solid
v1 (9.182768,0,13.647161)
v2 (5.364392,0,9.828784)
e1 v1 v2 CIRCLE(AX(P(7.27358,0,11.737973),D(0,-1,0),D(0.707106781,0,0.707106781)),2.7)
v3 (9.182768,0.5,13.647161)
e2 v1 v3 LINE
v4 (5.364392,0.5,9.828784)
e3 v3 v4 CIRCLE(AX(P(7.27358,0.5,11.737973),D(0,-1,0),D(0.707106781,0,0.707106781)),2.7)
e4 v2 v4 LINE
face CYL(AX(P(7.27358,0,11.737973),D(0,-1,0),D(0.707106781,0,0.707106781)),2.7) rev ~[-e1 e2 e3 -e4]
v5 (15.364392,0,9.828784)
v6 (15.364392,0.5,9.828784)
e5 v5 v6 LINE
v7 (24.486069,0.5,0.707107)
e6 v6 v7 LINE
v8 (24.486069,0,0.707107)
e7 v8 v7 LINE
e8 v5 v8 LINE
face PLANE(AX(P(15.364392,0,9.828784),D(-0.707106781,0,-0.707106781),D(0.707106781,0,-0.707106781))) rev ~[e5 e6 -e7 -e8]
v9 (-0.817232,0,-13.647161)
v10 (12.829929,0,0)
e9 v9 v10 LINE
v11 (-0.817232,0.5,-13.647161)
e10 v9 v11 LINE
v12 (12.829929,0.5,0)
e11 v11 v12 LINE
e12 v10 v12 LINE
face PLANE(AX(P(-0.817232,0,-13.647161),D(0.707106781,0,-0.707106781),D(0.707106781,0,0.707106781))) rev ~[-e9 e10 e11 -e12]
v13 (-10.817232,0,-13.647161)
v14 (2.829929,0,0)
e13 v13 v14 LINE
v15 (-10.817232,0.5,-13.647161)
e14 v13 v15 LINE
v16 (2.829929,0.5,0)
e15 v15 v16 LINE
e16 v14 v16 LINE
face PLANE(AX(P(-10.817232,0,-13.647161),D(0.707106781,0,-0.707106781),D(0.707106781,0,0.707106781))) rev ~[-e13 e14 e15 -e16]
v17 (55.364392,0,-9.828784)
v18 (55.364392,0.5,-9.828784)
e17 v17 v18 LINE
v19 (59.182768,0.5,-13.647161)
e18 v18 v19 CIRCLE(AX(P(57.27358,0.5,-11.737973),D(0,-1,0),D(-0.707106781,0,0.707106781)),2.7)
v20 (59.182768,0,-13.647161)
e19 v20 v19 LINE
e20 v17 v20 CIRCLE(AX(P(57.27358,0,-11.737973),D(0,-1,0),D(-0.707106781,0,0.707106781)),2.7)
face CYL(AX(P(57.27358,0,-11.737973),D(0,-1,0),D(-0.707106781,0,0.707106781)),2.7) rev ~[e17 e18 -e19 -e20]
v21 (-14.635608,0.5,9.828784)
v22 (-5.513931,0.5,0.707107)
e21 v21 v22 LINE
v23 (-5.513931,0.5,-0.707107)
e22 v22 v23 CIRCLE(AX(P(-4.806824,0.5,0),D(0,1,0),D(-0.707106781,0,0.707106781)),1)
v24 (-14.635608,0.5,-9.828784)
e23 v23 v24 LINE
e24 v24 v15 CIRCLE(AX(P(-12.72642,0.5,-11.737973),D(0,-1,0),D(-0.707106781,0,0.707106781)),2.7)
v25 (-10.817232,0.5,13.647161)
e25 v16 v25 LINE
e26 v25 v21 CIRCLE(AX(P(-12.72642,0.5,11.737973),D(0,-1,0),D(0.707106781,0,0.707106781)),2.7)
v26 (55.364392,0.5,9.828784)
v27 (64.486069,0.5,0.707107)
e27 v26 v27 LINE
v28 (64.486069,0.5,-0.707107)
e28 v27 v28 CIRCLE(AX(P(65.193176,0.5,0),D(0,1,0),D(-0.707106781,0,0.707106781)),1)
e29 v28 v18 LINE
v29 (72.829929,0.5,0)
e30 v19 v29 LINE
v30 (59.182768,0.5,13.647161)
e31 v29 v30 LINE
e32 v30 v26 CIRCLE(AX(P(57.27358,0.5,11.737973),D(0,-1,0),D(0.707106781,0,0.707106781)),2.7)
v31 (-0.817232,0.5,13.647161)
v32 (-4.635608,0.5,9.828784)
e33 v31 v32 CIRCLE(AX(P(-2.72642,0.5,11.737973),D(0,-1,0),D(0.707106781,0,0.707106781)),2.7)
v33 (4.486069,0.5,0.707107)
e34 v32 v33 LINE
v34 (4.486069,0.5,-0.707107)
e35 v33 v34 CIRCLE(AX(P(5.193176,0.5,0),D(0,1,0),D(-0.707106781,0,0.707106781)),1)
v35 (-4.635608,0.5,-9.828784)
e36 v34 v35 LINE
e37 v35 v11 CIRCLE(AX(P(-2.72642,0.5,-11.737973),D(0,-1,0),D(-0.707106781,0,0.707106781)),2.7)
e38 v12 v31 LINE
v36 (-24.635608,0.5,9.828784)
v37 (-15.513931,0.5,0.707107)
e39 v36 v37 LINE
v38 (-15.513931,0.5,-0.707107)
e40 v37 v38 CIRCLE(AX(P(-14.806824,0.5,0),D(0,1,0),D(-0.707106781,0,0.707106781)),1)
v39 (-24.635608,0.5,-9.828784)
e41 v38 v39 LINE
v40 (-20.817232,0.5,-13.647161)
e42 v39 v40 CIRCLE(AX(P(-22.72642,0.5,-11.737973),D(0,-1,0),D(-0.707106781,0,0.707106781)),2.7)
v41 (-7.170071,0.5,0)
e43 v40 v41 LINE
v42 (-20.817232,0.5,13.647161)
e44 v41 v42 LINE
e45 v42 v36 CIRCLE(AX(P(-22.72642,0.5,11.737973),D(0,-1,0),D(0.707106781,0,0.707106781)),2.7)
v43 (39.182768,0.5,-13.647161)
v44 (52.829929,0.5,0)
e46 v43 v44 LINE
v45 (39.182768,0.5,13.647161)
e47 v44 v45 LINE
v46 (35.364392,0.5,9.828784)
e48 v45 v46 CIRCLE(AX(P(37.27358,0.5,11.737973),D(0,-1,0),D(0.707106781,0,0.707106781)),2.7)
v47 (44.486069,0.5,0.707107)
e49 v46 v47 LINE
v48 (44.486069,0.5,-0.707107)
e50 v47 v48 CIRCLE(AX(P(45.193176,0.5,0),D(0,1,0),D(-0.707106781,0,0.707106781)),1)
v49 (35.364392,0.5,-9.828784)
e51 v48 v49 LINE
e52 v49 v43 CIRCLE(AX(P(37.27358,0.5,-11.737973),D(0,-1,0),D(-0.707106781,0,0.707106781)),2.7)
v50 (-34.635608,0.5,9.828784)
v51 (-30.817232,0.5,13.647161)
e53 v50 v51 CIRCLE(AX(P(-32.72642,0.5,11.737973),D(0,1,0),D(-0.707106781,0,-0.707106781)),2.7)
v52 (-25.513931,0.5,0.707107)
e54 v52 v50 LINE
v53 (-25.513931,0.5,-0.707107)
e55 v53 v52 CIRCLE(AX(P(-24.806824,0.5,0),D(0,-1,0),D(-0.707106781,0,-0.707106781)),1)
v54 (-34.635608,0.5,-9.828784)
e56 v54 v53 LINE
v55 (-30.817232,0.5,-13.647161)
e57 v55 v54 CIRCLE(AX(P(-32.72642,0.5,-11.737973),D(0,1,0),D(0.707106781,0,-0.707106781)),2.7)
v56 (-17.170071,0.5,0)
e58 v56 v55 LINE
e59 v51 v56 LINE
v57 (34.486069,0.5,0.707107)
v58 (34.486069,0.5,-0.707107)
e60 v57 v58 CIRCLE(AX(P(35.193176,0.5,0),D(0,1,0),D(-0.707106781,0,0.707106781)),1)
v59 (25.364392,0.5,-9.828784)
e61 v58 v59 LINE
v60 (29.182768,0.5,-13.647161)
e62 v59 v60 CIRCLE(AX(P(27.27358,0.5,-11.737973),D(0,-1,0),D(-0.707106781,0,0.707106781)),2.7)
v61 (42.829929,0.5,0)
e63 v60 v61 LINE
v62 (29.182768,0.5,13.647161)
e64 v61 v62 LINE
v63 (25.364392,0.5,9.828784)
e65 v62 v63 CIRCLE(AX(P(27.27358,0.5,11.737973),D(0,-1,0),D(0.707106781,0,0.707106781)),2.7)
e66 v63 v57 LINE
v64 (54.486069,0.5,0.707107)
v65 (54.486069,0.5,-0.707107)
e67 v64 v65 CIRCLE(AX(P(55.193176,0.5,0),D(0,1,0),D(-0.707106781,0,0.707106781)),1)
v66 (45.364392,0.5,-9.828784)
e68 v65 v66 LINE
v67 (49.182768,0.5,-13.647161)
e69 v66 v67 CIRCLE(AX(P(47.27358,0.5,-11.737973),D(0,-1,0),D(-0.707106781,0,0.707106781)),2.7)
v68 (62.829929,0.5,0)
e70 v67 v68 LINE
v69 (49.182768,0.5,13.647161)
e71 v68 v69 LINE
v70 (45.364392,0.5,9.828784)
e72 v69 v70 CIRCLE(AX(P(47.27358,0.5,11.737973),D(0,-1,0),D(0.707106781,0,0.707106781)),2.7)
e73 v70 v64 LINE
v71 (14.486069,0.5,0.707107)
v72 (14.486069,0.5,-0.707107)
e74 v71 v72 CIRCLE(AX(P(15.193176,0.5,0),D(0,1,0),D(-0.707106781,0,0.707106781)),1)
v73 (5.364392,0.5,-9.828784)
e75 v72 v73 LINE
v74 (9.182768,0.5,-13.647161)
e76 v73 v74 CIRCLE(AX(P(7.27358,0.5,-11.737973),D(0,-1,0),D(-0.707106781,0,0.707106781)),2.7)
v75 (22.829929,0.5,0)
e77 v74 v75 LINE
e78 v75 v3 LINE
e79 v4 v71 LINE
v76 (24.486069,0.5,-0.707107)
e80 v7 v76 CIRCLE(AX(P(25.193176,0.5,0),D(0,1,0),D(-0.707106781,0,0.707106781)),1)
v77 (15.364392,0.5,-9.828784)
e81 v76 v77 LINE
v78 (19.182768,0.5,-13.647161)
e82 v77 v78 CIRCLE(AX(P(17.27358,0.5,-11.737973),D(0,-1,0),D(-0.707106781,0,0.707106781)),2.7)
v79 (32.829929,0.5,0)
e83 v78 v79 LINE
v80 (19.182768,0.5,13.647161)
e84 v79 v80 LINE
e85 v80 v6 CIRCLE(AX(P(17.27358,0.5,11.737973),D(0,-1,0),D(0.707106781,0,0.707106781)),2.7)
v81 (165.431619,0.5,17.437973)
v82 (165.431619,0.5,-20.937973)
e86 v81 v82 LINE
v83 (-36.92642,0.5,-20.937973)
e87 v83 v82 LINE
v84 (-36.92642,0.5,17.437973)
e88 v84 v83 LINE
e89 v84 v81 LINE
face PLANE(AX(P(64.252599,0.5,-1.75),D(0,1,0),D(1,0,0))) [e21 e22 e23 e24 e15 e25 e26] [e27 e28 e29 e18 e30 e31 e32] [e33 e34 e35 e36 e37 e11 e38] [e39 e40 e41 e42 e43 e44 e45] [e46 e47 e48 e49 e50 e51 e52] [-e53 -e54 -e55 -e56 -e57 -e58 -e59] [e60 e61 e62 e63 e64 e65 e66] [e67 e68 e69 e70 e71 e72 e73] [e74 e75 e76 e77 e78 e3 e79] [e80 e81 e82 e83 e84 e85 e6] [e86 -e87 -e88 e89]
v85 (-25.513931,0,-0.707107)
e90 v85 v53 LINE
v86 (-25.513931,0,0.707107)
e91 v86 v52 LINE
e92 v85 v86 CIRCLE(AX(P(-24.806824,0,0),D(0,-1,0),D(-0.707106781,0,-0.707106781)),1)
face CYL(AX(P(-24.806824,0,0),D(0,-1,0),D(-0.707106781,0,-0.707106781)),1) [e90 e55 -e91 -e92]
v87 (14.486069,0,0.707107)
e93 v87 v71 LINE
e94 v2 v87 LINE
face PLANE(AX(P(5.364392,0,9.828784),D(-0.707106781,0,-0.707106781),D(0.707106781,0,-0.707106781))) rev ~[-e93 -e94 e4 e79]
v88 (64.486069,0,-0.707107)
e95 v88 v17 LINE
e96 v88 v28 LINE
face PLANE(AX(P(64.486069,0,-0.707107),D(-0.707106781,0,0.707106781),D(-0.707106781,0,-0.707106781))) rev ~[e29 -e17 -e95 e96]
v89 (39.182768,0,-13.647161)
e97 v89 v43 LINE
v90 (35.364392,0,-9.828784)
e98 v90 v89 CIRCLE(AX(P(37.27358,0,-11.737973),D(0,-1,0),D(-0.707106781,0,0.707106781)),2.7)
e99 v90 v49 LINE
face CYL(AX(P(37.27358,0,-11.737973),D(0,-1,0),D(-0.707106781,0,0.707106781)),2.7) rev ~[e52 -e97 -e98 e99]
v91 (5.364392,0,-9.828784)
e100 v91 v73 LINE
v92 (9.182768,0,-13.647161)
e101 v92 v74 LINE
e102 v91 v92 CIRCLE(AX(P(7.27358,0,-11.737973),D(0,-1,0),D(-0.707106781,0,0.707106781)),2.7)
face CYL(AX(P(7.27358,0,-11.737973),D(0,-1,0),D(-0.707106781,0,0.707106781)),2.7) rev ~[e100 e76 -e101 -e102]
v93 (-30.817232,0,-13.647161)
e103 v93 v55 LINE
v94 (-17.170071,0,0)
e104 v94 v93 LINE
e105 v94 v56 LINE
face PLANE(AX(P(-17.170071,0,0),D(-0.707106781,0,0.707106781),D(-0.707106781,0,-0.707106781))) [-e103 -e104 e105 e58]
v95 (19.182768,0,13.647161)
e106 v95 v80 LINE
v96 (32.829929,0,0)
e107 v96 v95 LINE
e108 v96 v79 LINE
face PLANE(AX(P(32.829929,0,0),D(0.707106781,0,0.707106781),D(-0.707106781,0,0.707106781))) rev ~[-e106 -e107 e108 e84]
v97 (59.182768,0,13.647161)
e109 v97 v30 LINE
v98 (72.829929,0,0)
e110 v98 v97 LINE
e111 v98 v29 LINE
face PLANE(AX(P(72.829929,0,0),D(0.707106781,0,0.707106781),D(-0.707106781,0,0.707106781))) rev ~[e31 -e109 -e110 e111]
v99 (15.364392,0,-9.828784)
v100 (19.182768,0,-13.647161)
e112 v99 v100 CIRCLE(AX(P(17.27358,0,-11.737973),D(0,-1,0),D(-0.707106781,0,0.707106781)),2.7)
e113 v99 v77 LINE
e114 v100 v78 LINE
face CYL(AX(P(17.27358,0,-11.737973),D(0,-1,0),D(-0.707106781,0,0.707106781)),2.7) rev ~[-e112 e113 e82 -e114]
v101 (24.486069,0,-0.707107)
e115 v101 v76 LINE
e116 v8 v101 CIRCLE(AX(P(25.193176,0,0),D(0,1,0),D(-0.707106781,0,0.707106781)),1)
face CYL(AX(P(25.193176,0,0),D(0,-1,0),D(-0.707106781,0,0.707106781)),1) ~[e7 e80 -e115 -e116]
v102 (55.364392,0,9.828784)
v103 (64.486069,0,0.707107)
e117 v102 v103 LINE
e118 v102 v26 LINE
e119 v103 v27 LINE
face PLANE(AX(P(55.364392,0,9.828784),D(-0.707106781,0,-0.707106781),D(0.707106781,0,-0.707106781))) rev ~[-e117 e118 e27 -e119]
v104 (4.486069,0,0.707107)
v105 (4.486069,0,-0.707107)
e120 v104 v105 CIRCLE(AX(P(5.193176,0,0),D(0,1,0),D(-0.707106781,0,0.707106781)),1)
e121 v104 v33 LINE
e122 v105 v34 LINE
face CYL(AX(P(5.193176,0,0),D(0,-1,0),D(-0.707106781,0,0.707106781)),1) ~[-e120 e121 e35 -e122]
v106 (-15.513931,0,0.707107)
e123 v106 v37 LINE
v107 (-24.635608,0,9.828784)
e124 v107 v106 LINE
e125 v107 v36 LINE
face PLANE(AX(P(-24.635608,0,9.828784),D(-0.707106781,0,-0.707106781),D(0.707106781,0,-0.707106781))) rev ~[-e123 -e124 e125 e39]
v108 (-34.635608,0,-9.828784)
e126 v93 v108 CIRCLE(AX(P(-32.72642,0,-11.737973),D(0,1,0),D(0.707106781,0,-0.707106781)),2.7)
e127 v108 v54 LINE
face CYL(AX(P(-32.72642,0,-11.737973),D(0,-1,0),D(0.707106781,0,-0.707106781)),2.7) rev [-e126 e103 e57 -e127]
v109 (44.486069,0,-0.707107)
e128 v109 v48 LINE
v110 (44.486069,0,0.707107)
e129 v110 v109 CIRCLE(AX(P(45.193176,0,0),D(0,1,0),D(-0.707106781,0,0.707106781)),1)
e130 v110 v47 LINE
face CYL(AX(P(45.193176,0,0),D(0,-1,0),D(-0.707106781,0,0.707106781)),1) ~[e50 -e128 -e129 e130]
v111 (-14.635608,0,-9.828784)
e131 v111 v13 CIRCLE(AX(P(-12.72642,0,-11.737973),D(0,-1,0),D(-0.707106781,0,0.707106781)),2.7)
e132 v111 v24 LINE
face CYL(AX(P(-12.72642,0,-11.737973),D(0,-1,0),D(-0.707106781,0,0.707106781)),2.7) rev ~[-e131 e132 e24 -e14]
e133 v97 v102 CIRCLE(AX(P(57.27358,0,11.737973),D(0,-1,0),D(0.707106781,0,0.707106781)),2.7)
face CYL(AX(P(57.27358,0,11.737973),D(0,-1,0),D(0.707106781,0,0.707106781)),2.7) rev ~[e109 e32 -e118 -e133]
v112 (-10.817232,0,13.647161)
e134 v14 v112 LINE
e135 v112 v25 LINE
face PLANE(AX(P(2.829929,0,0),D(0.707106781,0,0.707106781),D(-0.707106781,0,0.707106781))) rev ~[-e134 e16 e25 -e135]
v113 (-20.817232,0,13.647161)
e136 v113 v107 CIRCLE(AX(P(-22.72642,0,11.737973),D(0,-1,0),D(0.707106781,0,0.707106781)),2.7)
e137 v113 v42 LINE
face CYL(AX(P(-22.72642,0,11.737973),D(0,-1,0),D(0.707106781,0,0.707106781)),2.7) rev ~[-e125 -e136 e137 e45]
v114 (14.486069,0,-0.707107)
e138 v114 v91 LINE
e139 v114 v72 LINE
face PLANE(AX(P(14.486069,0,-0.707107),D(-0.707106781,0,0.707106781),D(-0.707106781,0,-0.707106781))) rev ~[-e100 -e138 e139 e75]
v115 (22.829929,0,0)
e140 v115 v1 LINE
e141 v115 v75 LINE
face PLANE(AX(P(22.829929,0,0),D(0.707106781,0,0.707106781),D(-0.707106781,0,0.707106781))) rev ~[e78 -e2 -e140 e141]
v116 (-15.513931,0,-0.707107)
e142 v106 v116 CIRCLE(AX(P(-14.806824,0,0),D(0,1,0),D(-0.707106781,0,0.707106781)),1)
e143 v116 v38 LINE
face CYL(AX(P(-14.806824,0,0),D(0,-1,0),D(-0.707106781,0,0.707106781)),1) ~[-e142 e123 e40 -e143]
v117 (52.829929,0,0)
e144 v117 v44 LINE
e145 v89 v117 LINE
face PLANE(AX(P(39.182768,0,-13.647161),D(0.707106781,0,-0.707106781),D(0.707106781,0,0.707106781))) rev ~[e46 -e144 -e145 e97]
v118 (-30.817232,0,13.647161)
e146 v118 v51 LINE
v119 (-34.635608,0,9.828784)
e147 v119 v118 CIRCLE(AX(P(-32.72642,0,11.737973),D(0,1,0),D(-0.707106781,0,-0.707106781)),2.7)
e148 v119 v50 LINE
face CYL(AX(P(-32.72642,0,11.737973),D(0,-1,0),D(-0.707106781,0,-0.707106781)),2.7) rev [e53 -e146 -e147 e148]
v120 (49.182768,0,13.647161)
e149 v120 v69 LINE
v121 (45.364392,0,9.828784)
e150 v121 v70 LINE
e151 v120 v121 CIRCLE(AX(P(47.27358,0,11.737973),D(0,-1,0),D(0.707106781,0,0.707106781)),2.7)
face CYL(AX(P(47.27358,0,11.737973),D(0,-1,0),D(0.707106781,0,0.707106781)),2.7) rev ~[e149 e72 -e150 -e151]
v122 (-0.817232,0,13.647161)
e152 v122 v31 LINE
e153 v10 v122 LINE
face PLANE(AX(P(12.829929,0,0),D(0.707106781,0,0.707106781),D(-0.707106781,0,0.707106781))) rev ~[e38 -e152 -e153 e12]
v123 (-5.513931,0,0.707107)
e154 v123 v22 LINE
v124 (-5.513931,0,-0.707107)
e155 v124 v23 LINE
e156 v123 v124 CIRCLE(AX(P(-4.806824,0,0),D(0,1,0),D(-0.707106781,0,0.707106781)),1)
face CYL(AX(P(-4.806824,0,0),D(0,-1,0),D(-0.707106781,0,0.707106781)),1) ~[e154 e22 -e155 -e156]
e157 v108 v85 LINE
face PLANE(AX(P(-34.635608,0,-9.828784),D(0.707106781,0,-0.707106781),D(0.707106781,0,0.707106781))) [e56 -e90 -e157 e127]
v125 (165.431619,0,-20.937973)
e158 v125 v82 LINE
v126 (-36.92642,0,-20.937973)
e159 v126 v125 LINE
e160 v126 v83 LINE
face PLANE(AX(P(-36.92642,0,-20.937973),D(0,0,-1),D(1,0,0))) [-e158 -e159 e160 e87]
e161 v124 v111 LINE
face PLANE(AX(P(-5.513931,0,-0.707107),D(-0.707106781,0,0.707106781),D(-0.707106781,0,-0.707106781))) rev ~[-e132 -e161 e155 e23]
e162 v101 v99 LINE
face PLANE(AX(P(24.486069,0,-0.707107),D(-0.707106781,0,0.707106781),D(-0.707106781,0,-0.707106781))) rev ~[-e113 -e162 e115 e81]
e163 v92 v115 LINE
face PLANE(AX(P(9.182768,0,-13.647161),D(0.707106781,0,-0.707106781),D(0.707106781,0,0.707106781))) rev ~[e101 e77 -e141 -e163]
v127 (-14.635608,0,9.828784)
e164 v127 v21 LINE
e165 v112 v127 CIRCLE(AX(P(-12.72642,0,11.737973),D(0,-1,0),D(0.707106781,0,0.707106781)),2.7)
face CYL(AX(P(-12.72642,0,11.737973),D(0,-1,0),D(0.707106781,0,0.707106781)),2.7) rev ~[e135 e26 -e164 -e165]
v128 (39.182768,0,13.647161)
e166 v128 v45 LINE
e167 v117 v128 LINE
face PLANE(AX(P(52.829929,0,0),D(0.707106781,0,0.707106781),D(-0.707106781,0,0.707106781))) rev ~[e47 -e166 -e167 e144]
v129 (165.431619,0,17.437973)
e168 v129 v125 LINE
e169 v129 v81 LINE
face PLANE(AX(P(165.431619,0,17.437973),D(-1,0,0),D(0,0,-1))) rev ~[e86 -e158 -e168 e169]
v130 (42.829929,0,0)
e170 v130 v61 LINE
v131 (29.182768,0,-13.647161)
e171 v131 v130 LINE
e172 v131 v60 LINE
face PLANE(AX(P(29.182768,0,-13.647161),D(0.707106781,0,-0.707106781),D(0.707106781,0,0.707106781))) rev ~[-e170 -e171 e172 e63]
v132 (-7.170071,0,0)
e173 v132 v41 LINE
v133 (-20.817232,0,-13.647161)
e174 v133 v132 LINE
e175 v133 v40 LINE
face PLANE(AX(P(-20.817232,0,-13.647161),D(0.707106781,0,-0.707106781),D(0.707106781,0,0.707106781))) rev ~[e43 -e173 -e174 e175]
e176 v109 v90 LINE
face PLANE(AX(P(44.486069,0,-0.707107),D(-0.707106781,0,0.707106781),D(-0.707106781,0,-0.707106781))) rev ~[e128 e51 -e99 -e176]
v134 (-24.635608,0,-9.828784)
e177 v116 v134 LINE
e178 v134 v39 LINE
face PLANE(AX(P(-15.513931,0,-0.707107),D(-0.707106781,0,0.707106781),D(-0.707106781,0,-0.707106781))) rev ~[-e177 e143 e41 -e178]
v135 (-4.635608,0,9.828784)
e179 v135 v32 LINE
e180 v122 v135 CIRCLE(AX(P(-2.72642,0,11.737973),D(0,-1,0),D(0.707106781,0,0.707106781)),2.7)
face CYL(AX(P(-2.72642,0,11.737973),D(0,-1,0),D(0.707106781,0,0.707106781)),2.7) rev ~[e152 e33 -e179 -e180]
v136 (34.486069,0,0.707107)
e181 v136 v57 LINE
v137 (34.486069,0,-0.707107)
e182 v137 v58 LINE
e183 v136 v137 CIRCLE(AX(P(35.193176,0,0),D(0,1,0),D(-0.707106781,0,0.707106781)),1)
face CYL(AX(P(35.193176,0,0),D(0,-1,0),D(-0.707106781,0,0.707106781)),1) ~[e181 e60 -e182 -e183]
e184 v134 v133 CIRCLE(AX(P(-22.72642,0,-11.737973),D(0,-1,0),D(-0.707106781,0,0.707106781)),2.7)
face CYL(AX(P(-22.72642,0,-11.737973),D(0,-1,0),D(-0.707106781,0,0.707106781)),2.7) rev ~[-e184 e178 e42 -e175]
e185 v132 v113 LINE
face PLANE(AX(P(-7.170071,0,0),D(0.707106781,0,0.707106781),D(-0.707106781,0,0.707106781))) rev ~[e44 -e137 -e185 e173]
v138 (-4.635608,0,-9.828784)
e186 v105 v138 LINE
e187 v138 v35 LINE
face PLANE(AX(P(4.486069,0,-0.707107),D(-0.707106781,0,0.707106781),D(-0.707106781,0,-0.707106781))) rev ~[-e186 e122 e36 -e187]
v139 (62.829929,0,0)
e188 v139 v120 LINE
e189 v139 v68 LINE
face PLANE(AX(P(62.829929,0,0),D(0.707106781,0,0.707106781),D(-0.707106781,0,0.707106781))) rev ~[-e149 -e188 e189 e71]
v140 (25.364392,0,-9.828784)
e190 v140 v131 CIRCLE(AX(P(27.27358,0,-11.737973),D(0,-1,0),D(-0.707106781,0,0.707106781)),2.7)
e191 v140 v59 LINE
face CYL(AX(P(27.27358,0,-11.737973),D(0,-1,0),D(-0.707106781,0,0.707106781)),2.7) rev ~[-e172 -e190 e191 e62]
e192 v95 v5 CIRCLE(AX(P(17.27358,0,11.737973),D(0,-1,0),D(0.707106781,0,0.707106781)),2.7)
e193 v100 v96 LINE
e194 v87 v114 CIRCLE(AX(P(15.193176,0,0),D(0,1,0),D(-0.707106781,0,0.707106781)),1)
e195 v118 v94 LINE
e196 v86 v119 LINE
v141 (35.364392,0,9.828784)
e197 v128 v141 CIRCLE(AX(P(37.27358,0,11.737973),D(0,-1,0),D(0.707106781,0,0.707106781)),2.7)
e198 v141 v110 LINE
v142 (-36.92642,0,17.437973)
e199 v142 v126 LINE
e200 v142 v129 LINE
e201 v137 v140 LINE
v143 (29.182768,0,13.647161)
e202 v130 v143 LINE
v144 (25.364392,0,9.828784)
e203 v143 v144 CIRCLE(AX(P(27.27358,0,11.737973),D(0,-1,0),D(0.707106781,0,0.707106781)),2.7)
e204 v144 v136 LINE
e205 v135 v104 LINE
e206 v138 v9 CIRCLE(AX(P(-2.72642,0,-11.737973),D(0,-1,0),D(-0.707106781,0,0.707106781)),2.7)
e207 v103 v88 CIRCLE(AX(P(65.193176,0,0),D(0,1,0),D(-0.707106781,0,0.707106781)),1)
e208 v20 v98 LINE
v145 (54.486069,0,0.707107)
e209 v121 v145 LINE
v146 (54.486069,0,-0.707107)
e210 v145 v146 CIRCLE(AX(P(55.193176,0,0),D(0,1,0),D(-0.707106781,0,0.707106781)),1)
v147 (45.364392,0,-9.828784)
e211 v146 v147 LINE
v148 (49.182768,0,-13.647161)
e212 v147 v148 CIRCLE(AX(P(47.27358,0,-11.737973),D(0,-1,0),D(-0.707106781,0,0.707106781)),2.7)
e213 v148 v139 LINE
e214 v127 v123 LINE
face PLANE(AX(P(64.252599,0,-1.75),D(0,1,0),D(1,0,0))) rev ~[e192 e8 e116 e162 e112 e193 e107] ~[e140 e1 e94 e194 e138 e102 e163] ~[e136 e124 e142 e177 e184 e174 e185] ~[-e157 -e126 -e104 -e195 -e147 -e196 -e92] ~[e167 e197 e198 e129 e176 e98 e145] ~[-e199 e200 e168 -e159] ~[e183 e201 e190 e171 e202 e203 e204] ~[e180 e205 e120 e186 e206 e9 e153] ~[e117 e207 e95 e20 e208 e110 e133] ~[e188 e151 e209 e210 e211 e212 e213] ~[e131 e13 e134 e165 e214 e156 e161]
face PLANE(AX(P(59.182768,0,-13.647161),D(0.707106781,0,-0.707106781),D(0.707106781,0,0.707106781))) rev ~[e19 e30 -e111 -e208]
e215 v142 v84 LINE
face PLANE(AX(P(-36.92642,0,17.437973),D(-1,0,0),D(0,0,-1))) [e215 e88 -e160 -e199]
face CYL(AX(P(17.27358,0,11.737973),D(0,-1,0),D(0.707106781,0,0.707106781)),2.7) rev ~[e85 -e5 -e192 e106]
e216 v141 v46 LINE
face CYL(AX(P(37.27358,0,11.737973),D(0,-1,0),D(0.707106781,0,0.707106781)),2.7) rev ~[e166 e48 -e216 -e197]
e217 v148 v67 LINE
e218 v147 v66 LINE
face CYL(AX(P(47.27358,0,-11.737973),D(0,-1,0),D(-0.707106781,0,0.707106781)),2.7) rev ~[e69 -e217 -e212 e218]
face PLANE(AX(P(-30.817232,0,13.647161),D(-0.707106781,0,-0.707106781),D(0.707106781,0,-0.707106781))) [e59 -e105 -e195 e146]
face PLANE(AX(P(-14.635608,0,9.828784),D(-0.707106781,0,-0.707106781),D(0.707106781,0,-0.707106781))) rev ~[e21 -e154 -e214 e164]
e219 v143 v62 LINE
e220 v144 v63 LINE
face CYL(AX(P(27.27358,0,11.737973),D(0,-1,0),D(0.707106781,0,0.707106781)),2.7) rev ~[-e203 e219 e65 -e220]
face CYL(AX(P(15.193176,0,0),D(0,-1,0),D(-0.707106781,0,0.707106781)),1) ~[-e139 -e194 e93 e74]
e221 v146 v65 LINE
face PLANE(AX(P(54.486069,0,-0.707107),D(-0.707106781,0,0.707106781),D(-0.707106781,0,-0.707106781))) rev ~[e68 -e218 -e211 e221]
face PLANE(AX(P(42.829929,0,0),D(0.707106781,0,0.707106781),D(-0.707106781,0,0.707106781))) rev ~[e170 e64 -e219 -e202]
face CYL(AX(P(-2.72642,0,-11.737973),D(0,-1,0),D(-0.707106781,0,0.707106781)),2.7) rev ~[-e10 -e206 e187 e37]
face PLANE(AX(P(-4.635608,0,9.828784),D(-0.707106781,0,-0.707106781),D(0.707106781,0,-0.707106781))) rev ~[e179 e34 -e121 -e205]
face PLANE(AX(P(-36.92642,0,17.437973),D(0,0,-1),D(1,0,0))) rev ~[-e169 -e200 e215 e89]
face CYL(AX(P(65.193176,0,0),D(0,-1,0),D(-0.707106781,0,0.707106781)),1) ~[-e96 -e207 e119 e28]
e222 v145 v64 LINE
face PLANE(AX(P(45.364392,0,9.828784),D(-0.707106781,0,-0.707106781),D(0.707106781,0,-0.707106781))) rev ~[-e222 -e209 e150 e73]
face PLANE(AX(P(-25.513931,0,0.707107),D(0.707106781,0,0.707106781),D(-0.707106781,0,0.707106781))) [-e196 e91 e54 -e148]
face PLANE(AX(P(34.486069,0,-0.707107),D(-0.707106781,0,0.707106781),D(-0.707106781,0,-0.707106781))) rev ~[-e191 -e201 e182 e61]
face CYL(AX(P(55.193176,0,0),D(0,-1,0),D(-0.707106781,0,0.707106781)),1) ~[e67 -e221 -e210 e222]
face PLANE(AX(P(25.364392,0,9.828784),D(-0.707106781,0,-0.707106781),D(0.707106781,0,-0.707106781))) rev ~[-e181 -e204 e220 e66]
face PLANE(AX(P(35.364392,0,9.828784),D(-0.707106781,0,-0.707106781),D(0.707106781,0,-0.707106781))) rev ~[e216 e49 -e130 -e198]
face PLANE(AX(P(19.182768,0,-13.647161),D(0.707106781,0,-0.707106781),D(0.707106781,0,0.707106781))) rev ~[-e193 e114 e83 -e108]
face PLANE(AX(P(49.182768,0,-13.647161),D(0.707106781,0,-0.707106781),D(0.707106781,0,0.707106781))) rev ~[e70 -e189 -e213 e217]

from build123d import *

# Parameters (mm, degrees)
SKETCH1_W           = 202.358038397
SKETCH1_H           = 38.375945136
BOSS_EXTRUDE1_DEPTH = 0.5


with BuildPart() as part:
    # Sketch1 → Boss-Extrude1 (new body)
    with BuildSketch(Plane(origin=(0, 0, 0), x_dir=(1, 0, 0), z_dir=(0, 1, 0))):
        with Locations((64.252599363, 1.75)):
            Rectangle(SKETCH1_W, SKETCH1_H)
        with BuildLine():
            Line((-34.635608145, 9.828784258), (-25.513930667, 0.707106781))
            ThreePointArc((-25.513930667, 0.707106781), (-23.806823886, 0), (-25.513930667, -0.707106781))
            Line((-25.513930667, -0.707106781), (-34.635608145, -9.828784258))
            ThreePointArc((-34.635608145, -9.828784258), (-34.635608145, -13.647160877), (-30.817231526, -13.647160877))
            Line((-30.817231526, -13.647160877), (-17.170070649, 0))
            Line((-17.170070649, 0), (-30.817231526, 13.647160877))
            ThreePointArc((-30.817231526, 13.647160877), (-34.635608145, 13.647160877), (-34.635608145, 9.828784258))
        make_face(mode=Mode.SUBTRACT)
        with BuildLine():
            Line((-20.817231526, 13.647160877), (-7.170070649, 0))
            Line((-7.170070649, 0), (-20.817231526, -13.647160877))
            ThreePointArc((-20.817231526, -13.647160877), (-24.635608145, -13.647160877), (-24.635608145, -9.828784258))
            Line((-24.635608145, -9.828784258), (-15.513930667, -0.707106781))
            ThreePointArc((-15.513930667, -0.707106781), (-13.806823886, 0), (-15.513930667, 0.707106781))
            Line((-15.513930667, 0.707106781), (-24.635608145, 9.828784258))
            ThreePointArc((-24.635608145, 9.828784258), (-24.635608145, 13.647160877), (-20.817231526, 13.647160877))
        make_face(mode=Mode.SUBTRACT)
        with BuildLine():
            Line((-10.817231526, 13.647160877), (2.829929351, 0))
            Line((2.829929351, 0), (-10.817231526, -13.647160877))
            ThreePointArc((-10.817231526, -13.647160877), (-14.635608145, -13.647160877), (-14.635608145, -9.828784258))
            Line((-14.635608145, -9.828784258), (-5.513930667, -0.707106781))
            ThreePointArc((-5.513930667, -0.707106781), (-3.806823886, 0), (-5.513930667, 0.707106781))
            Line((-5.513930667, 0.707106781), (-14.635608145, 9.828784258))
            ThreePointArc((-14.635608145, 9.828784258), (-14.635608145, 13.647160877), (-10.817231526, 13.647160877))
        make_face(mode=Mode.SUBTRACT)
        with BuildLine():
            Line((-0.817231526, 13.647160877), (12.829929351, 0))
            Line((12.829929351, 0), (-0.817231526, -13.647160877))
            ThreePointArc((-0.817231526, -13.647160877), (-4.635608145, -13.647160877), (-4.635608145, -9.828784258))
            Line((-4.635608145, -9.828784258), (4.486069333, -0.707106781))
            ThreePointArc((4.486069333, -0.707106781), (6.193176114, 0), (4.486069333, 0.707106781))
            Line((4.486069333, 0.707106781), (-4.635608145, 9.828784258))
            ThreePointArc((-4.635608145, 9.828784258), (-4.635608145, 13.647160877), (-0.817231526, 13.647160877))
        make_face(mode=Mode.SUBTRACT)
        with BuildLine():
            Line((9.182768474, 13.647160877), (22.829929351, 0))
            Line((22.829929351, 0), (9.182768474, -13.647160877))
            ThreePointArc((9.182768474, -13.647160877), (5.364391855, -13.647160877), (5.364391855, -9.828784258))
            Line((5.364391855, -9.828784258), (14.486069333, -0.707106781))
            ThreePointArc((14.486069333, -0.707106781), (16.193176114, 0), (14.486069333, 0.707106781))
            Line((14.486069333, 0.707106781), (5.364391855, 9.828784258))
            ThreePointArc((5.364391855, 9.828784258), (5.364391855, 13.647160877), (9.182768474, 13.647160877))
        make_face(mode=Mode.SUBTRACT)
        with BuildLine():
            Line((19.182768474, 13.647160877), (32.829929351, 0))
            Line((32.829929351, 0), (19.182768474, -13.647160877))
            ThreePointArc((19.182768474, -13.647160877), (15.364391855, -13.647160877), (15.364391855, -9.828784258))
            Line((15.364391855, -9.828784258), (24.486069333, -0.707106781))
            ThreePointArc((24.486069333, -0.707106781), (26.193176114, 0), (24.486069333, 0.707106781))
            Line((24.486069333, 0.707106781), (15.364391855, 9.828784258))
            ThreePointArc((15.364391855, 9.828784258), (15.364391855, 13.647160877), (19.182768474, 13.647160877))
        make_face(mode=Mode.SUBTRACT)
        with BuildLine():
            Line((29.182768474, 13.647160877), (42.829929351, 0))
            Line((42.829929351, 0), (29.182768474, -13.647160877))
            ThreePointArc((29.182768474, -13.647160877), (25.364391855, -13.647160877), (25.364391855, -9.828784258))
            Line((25.364391855, -9.828784258), (34.486069333, -0.707106781))
            ThreePointArc((34.486069333, -0.707106781), (36.193176114, 0), (34.486069333, 0.707106781))
            Line((34.486069333, 0.707106781), (25.364391855, 9.828784258))
            ThreePointArc((25.364391855, 9.828784258), (25.364391855, 13.647160877), (29.182768474, 13.647160877))
        make_face(mode=Mode.SUBTRACT)
        with BuildLine():
            Line((39.182768474, 13.647160877), (52.829929351, 0))
            Line((52.829929351, 0), (39.182768474, -13.647160877))
            ThreePointArc((39.182768474, -13.647160877), (35.364391855, -13.647160877), (35.364391855, -9.828784258))
            Line((35.364391855, -9.828784258), (44.486069333, -0.707106781))
            ThreePointArc((44.486069333, -0.707106781), (46.193176114, 0), (44.486069333, 0.707106781))
            Line((44.486069333, 0.707106781), (35.364391855, 9.828784258))
            ThreePointArc((35.364391855, 9.828784258), (35.364391855, 13.647160877), (39.182768474, 13.647160877))
        make_face(mode=Mode.SUBTRACT)
        with BuildLine():
            Line((49.182768474, 13.647160877), (62.829929351, 0))
            Line((62.829929351, 0), (49.182768474, -13.647160877))
            ThreePointArc((49.182768474, -13.647160877), (45.364391855, -13.647160877), (45.364391855, -9.828784258))
            Line((45.364391855, -9.828784258), (54.486069333, -0.707106781))
            ThreePointArc((54.486069333, -0.707106781), (56.193176114, 0), (54.486069333, 0.707106781))
            Line((54.486069333, 0.707106781), (45.364391855, 9.828784258))
            ThreePointArc((45.364391855, 9.828784258), (45.364391855, 13.647160877), (49.182768474, 13.647160877))
        make_face(mode=Mode.SUBTRACT)
        with BuildLine():
            Line((59.182768474, 13.647160877), (72.829929351, 0))
            Line((72.829929351, 0), (59.182768474, -13.647160877))
            ThreePointArc((59.182768474, -13.647160877), (55.364391855, -13.647160877), (55.364391855, -9.828784258))
            Line((55.364391855, -9.828784258), (64.486069333, -0.707106781))
            ThreePointArc((64.486069333, -0.707106781), (66.193176114, 0), (64.486069333, 0.707106781))
            Line((64.486069333, 0.707106781), (55.364391855, 9.828784258))
            ThreePointArc((55.364391855, 9.828784258), (55.364391855, 13.647160877), (59.182768474, 13.647160877))
        make_face(mode=Mode.SUBTRACT)
    extrude(amount=BOSS_EXTRUDE1_DEPTH)


solid = part.part
